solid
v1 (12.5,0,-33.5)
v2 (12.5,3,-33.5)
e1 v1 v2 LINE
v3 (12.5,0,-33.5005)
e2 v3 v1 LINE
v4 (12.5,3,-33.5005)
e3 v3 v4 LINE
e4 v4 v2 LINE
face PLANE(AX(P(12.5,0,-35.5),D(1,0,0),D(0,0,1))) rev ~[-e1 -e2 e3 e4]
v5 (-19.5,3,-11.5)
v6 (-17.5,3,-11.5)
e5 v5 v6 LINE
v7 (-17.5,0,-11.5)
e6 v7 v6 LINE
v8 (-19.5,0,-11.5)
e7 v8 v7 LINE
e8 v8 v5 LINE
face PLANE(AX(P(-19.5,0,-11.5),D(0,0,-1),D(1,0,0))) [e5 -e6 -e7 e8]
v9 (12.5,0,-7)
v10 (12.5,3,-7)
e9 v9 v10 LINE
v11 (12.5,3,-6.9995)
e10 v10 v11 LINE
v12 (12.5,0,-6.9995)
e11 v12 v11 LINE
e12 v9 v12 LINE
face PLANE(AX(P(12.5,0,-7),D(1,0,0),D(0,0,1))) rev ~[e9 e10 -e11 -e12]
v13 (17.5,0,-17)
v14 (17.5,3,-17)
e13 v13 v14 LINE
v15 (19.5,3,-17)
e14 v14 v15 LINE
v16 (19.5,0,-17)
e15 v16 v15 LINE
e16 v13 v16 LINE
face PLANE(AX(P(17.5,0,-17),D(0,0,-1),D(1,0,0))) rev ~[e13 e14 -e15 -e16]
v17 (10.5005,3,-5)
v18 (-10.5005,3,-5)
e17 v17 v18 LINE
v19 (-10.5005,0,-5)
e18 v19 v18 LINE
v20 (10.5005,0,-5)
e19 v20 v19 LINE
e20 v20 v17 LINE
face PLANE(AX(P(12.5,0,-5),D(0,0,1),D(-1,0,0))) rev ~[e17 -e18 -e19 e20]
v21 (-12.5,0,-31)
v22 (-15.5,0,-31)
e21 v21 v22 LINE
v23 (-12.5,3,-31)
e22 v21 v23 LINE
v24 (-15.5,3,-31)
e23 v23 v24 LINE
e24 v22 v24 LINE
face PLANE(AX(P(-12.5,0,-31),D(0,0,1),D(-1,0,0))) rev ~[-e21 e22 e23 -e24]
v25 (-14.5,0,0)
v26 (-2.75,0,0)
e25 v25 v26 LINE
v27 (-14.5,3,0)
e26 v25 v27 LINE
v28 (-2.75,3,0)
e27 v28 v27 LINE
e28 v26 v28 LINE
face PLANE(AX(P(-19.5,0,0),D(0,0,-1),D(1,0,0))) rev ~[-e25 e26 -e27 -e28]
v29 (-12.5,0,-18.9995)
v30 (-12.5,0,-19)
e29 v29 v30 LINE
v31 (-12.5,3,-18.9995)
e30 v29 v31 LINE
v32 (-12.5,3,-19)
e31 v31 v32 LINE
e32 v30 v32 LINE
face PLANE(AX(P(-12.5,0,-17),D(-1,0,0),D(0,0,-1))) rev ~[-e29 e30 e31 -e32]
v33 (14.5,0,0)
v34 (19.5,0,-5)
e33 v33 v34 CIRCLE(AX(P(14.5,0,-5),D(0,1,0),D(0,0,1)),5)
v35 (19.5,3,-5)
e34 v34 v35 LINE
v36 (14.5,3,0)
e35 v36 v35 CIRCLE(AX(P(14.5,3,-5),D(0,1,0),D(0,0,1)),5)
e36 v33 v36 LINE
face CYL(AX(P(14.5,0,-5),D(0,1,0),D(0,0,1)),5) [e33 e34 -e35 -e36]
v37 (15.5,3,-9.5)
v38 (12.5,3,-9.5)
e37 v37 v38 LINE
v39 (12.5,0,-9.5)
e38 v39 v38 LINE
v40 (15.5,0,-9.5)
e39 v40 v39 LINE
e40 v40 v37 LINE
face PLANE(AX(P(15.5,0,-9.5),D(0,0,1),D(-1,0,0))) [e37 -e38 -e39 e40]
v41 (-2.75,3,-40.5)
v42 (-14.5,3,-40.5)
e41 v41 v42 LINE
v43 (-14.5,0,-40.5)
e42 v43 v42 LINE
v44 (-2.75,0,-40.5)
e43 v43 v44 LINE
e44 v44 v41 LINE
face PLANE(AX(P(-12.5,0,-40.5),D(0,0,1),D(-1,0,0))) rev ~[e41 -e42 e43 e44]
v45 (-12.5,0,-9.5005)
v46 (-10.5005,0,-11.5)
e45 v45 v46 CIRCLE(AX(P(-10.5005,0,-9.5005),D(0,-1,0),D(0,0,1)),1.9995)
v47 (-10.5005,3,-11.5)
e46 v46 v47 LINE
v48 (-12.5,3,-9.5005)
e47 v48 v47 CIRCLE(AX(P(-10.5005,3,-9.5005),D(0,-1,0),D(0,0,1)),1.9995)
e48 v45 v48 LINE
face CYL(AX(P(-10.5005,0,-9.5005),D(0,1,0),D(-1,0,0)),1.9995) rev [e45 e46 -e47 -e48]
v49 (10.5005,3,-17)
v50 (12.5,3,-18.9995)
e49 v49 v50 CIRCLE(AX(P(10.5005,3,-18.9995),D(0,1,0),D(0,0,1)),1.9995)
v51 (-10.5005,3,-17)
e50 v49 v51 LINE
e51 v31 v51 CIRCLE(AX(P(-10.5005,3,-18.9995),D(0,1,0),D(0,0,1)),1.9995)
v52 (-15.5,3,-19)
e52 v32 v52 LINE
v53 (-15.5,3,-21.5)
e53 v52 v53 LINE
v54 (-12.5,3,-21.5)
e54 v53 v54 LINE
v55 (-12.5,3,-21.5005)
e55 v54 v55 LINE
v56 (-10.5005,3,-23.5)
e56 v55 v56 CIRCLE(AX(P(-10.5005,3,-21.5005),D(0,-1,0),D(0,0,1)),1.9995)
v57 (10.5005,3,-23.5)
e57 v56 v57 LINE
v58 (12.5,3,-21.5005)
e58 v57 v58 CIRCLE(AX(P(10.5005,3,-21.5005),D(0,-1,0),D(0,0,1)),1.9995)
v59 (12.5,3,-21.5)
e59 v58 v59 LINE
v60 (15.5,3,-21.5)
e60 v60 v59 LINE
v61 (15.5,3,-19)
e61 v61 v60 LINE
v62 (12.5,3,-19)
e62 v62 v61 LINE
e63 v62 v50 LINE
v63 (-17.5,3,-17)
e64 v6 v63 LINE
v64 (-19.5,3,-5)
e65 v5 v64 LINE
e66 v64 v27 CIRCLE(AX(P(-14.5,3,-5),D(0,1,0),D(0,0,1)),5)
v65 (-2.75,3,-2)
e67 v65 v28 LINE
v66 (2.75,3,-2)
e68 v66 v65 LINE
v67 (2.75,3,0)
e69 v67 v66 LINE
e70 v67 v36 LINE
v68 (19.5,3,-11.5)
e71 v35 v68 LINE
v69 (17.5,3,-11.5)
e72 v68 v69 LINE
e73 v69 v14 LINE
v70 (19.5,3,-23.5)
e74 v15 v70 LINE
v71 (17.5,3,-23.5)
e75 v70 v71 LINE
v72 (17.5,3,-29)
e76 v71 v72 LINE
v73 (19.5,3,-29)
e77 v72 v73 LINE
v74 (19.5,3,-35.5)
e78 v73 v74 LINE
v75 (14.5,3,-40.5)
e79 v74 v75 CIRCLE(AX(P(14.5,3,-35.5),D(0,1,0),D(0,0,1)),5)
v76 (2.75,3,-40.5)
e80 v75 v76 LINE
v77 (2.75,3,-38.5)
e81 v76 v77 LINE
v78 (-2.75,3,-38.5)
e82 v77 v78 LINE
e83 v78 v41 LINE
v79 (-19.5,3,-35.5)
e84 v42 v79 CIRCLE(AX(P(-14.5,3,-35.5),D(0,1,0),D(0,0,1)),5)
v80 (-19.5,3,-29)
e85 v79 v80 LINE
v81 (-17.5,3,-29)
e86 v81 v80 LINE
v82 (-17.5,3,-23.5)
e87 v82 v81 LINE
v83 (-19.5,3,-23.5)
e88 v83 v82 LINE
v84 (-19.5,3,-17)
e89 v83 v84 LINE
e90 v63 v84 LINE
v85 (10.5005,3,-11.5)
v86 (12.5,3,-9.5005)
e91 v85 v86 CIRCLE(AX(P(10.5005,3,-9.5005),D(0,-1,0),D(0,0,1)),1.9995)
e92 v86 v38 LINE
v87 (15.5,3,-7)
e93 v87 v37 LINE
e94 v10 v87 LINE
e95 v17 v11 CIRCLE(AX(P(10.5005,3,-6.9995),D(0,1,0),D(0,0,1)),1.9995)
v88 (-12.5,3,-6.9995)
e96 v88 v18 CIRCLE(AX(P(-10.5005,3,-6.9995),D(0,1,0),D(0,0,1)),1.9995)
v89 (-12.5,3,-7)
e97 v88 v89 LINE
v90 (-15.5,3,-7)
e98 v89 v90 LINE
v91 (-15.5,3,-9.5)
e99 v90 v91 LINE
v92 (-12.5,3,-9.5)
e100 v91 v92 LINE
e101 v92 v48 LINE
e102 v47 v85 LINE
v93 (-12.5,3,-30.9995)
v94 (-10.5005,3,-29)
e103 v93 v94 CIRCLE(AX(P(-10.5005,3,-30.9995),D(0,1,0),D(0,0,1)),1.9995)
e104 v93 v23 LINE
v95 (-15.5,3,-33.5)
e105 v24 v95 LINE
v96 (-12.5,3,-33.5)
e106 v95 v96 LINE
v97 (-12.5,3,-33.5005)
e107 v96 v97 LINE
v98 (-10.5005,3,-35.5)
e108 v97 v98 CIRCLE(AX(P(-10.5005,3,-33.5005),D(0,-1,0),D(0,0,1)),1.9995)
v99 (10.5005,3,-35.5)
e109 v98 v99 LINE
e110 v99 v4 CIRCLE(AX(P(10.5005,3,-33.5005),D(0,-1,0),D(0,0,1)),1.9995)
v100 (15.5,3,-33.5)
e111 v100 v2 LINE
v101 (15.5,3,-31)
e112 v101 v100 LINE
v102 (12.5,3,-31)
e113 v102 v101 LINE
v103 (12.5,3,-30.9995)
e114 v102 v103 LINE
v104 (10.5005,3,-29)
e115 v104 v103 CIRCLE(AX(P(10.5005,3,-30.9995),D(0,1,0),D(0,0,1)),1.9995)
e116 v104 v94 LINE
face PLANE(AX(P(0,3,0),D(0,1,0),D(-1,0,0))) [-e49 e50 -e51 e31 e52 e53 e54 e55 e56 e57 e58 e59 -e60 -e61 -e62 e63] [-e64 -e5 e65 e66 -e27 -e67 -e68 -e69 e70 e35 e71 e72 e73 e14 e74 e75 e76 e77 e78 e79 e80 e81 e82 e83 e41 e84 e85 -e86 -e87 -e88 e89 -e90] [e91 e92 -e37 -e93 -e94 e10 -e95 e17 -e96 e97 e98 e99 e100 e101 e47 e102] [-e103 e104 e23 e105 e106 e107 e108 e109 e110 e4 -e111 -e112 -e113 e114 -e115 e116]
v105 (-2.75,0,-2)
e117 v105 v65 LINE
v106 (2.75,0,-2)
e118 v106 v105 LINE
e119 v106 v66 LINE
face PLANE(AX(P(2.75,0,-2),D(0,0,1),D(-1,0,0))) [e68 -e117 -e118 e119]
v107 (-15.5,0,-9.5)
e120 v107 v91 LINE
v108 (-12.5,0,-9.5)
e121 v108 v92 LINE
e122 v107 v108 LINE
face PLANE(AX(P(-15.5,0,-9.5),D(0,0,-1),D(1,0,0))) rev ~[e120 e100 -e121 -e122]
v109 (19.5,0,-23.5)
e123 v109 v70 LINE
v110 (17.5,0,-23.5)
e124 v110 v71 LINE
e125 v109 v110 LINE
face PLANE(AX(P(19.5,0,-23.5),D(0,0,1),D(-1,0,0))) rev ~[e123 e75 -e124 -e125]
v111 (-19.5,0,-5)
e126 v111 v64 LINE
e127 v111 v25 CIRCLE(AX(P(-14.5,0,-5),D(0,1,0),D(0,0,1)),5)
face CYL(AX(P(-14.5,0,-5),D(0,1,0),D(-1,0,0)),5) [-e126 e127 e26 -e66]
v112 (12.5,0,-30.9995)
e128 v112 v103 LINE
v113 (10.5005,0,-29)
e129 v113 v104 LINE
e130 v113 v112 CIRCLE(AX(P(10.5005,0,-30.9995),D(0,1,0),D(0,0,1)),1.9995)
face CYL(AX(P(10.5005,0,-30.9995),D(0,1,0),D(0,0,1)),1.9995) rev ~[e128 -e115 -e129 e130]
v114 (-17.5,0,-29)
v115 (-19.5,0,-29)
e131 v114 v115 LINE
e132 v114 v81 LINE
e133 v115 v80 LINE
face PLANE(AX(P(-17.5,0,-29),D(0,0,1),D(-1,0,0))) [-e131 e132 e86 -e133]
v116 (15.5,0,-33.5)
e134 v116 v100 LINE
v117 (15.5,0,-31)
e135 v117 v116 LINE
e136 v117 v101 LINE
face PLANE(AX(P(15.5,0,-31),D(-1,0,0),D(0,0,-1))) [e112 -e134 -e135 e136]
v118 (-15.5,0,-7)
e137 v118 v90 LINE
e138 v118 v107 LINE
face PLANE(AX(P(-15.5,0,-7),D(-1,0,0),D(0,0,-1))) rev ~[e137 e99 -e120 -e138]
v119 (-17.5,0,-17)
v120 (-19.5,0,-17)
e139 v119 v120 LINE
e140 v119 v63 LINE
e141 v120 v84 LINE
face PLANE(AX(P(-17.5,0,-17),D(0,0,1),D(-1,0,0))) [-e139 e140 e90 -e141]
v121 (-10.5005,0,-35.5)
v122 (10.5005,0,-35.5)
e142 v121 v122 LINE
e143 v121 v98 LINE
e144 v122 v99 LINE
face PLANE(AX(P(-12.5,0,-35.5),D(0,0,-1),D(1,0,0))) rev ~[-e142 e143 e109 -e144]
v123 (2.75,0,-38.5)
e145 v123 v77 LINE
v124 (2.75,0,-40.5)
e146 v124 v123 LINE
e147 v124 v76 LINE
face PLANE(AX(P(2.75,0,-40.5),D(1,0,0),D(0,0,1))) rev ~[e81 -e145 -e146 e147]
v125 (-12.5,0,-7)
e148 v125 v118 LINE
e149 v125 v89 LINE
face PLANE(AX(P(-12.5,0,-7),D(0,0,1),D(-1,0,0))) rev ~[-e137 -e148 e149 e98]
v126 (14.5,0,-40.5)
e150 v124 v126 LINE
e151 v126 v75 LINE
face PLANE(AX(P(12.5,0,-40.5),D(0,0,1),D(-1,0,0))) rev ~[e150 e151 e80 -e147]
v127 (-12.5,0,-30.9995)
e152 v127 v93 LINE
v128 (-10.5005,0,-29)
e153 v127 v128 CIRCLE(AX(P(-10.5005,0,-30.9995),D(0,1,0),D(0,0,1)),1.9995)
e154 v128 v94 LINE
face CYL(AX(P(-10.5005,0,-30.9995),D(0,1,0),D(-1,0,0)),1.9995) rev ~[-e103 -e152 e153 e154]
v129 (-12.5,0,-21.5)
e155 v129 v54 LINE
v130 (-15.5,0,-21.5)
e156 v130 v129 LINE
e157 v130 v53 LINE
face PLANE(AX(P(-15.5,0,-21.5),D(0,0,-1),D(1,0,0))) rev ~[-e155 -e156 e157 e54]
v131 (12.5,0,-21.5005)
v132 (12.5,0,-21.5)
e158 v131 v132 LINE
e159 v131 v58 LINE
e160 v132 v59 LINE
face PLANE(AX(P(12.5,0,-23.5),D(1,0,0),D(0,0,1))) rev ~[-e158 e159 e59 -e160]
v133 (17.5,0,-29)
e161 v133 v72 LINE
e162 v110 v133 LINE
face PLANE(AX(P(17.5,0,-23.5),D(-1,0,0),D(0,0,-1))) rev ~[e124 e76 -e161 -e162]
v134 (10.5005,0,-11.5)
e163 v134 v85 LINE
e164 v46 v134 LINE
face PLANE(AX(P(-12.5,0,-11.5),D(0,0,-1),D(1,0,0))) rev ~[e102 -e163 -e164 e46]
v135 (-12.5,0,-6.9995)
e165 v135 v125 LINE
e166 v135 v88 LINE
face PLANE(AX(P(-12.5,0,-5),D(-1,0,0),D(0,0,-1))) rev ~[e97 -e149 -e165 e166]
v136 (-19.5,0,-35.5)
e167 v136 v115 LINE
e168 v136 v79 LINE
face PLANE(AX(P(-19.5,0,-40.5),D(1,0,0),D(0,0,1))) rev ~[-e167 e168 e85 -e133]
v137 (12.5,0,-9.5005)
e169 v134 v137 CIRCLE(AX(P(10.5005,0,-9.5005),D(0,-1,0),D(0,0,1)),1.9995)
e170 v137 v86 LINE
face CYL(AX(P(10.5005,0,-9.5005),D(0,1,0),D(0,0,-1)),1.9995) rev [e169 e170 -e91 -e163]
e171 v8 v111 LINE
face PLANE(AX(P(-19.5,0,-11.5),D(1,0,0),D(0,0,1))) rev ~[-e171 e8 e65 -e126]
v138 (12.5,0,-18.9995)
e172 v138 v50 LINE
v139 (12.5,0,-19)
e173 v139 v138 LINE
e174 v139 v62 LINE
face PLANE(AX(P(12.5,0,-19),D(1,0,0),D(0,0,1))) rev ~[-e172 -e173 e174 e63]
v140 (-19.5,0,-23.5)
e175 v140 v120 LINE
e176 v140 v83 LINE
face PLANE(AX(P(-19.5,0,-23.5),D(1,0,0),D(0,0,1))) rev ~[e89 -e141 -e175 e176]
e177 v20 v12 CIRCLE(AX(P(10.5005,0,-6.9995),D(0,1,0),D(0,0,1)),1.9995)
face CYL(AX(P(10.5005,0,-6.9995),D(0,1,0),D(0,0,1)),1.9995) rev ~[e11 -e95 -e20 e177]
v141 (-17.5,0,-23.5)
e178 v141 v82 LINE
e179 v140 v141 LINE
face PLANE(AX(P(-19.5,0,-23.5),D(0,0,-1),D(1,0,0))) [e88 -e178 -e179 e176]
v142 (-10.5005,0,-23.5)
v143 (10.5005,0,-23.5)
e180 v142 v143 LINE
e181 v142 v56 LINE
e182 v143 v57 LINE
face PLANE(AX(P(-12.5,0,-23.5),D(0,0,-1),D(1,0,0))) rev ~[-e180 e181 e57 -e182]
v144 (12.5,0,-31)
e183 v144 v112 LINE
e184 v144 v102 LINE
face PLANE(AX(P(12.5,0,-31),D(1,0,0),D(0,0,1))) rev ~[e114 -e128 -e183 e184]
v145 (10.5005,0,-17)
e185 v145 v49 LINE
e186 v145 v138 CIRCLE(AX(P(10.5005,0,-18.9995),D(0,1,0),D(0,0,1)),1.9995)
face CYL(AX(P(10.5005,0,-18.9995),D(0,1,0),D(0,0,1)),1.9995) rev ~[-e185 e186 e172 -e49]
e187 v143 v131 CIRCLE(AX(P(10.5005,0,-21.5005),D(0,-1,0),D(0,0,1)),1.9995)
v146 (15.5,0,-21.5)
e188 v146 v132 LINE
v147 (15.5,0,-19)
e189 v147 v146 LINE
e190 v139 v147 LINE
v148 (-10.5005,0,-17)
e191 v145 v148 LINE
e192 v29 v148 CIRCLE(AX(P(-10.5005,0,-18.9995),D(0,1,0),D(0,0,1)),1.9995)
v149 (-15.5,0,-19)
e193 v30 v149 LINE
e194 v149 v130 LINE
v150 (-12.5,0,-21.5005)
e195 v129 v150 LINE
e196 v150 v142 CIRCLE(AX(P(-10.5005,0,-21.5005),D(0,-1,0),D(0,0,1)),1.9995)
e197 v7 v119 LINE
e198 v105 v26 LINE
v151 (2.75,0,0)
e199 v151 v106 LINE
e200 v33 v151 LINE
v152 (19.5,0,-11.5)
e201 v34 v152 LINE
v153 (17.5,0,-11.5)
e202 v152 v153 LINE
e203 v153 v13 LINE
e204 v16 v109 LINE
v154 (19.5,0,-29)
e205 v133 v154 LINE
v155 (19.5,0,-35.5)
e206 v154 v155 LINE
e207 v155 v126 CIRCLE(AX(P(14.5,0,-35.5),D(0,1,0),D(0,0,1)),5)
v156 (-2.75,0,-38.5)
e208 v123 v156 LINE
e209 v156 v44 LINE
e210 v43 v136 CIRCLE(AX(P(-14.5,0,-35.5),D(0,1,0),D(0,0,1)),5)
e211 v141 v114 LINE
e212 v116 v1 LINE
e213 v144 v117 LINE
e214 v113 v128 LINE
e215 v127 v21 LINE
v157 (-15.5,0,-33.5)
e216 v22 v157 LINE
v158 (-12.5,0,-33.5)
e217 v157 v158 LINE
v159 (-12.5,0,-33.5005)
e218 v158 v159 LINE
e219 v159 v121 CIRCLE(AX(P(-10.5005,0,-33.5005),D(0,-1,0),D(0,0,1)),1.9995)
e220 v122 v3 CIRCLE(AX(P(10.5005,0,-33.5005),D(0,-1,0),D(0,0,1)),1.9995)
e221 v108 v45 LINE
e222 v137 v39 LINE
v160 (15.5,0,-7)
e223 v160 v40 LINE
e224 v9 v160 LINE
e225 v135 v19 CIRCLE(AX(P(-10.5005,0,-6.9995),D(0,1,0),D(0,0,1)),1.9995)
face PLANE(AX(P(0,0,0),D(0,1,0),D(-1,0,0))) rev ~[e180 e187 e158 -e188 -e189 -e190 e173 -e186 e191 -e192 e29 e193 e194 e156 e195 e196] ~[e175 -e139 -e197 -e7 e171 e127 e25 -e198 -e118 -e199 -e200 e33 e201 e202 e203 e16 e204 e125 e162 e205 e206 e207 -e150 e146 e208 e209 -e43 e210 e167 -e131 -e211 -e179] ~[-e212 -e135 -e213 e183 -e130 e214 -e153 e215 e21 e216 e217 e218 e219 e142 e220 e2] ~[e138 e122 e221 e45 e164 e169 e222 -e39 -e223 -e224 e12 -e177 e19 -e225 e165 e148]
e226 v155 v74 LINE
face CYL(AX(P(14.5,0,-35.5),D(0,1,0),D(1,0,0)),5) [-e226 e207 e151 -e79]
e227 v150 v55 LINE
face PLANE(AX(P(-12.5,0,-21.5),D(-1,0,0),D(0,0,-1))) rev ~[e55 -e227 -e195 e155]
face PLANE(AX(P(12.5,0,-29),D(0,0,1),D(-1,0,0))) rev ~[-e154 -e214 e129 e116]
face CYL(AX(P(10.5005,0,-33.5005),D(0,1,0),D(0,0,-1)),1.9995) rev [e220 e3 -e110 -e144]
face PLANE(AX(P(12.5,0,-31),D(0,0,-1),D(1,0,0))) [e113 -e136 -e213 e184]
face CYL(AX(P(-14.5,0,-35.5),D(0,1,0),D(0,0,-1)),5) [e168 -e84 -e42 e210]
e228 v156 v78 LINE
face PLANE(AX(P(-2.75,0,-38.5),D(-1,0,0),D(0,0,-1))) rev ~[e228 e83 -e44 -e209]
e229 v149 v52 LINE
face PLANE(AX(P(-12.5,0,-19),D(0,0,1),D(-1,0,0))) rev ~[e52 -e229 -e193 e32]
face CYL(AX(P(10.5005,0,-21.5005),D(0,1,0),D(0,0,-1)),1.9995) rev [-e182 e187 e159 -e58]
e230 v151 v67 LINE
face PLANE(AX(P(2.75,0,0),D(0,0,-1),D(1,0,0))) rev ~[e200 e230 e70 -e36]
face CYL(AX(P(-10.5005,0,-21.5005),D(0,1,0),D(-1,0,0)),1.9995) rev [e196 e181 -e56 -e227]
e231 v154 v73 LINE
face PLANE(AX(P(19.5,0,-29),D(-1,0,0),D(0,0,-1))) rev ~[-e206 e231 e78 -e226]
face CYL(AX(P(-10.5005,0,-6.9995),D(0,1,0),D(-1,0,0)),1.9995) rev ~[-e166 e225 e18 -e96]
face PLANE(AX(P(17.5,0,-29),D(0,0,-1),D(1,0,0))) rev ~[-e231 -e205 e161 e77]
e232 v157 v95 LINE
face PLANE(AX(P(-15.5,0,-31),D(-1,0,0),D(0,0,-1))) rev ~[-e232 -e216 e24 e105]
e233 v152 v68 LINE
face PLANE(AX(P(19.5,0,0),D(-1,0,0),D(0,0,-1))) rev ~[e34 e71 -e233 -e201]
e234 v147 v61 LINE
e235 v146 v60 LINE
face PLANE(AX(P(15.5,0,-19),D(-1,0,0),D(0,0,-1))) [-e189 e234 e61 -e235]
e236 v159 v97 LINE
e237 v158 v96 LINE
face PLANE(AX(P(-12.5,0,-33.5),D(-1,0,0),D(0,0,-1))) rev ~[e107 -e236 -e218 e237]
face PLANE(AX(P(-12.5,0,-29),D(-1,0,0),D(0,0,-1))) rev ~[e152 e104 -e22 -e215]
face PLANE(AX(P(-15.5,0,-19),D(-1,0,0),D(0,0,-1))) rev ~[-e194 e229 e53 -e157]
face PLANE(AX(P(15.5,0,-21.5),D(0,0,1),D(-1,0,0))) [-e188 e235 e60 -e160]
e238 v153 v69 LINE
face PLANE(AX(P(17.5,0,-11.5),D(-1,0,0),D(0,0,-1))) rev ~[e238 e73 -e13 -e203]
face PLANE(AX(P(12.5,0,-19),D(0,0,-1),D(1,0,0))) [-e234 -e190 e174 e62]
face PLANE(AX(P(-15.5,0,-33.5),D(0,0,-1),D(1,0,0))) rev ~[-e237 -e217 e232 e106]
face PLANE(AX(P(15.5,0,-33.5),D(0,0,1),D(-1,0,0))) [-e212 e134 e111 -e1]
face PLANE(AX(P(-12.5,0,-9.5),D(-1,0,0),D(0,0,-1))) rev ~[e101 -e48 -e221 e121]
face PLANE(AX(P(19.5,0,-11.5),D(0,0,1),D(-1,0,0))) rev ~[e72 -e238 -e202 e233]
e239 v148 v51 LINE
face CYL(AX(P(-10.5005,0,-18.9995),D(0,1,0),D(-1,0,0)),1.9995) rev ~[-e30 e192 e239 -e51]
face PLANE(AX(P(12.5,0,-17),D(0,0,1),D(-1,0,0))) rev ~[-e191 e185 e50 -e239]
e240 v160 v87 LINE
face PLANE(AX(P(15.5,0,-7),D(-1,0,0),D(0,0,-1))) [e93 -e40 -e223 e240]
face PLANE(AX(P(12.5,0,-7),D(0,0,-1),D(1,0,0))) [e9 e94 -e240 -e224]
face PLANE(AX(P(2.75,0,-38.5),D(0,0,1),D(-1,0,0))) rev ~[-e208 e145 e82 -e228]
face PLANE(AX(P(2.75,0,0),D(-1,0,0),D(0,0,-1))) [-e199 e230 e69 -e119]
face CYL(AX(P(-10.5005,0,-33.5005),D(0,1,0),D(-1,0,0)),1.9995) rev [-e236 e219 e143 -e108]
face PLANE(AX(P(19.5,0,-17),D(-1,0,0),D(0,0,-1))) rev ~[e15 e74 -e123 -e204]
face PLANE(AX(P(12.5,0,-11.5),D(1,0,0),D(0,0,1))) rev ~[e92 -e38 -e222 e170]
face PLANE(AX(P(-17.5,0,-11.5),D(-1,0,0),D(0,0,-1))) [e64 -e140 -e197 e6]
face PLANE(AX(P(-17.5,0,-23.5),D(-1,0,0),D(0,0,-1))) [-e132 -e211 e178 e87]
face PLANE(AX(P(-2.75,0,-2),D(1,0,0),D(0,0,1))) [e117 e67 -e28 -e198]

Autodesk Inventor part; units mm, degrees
ref_plane "YZ Plane" through (0, 0, 0) normal (1, 0, 0) x (0, 1, 0)
ref_plane "XZ Plane" through (0, 0, 0) normal (0, 1, 0) x (-1, 0, 0)
ref_plane "XY Plane" through (0, 0, 0) normal (0, 0, 1) x (1, 0, 0)
sketch "Эскиз1" plane through (0, 0, 0) normal (0, 1, 0) x (-1, 0, 0)
  line L0 (19.5, 0) -> (12.5, 0)
  line L1 (12.5, 0) -> (12.5, -40.5)
  line L2 (12.5, -40.5) -> (19.5, -40.5)
  line L3 (19.5, -40.5) -> (19.5, 0)
  line L4 (-12.5, 0) -> (-19.5, 0)
  line L5 (-19.5, 0) -> (-19.5, -40.5)
  line L6 (-19.5, -40.5) -> (-12.5, -40.5)
  line L7 (-12.5, -40.5) -> (-12.5, 0)
  line L8 (0, 0) -> (0, -102.7933) construction
  line L9 (12.5, -7) -> (15.5, -7)
  line L10 (15.5, -7) -> (15.5, -9.5)
  line L11 (15.5, -9.5) -> (12.5, -9.5)
  line L12 (12.5, -9.5) -> (12.5, -7)
  line L13 (-12.5, -7) -> (-15.5, -7)
  line L14 (-15.5, -7) -> (-15.5, -9.5)
  line L15 (-15.5, -9.5) -> (-12.5, -9.5)
  line L16 (-12.5, -9.5) -> (-12.5, -7)
  line L17 (15.5, -21.5) -> (12.5, -21.5)
  line L18 (12.5, -19) -> (15.5, -19)
  line L19 (15.5, -19) -> (15.5, -21.5)
  line L20 (12.5, -21.5) -> (12.5, -19)
  line L21 (-15.5, -21.5) -> (-12.5, -21.5)
  line L22 (-15.5, -19) -> (-15.5, -21.5)
  line L23 (-12.5, -19) -> (-15.5, -19)
  line L24 (-12.5, -21.5) -> (-12.5, -19)
  line L25 (15.5, -33.5) -> (12.5, -33.5)
  line L26 (12.5, -31) -> (15.5, -31)
  line L27 (15.5, -31) -> (15.5, -33.5)
  line L28 (12.5, -33.5) -> (12.5, -31)
  line L29 (-15.5, -33.5) -> (-12.5, -33.5)
  line L30 (-15.5, -31) -> (-15.5, -33.5)
  line L31 (-12.5, -31) -> (-15.5, -31)
  line L32 (-12.5, -33.5) -> (-12.5, -31)
  line L33 (19.5, 0) -> (-19.5, 0)
  line L34 (-12.5, -5) -> (12.5, -5)
  line L35 (-19.5, -40.5) -> (19.5, -40.5)
  line L36 (12.5, -35.5) -> (-12.5, -35.5)
  line L37 (12.5, -11.5) -> (-12.5, -11.5)
  line L38 (-12.5, -11.5) -> (-12.5, -17)
  line L39 (-12.5, -17) -> (12.5, -17)
  line L40 (12.5, -17) -> (12.5, -11.5)
  line L41 (12.5, -23.5) -> (-12.5, -23.5)
  line L42 (-12.5, -23.5) -> (-12.5, -29)
  line L43 (-12.5, -29) -> (12.5, -29)
  line L44 (12.5, -29) -> (12.5, -23.5)
  line L45 (19.5, -11.5) -> (17.5, -11.5)
  line L46 (17.5, -11.5) -> (17.5, -17)
  line L47 (17.5, -17) -> (19.5, -17)
  line L48 (19.5, -17) -> (19.5, -11.5)
  line L49 (19.5, -23.5) -> (17.5, -23.5)
  line L50 (17.5, -23.5) -> (17.5, -29)
  line L51 (17.5, -29) -> (19.5, -29)
  line L52 (19.5, -29) -> (19.5, -23.5)
  line L53 (-19.5, -11.5) -> (-17.5, -11.5)
  line L54 (-17.5, -11.5) -> (-17.5, -17)
  line L55 (-17.5, -17) -> (-19.5, -17)
  line L56 (-19.5, -17) -> (-19.5, -11.5)
  line L57 (-19.5, -23.5) -> (-17.5, -23.5)
  line L58 (-17.5, -23.5) -> (-17.5, -29)
  line L59 (-17.5, -29) -> (-19.5, -29)
  line L60 (-19.5, -29) -> (-19.5, -23.5)
  line L61 (2.75, 0) -> (-2.75, 0)
  line L62 (-2.75, 0) -> (-2.75, -2)
  line L63 (-2.75, -2) -> (2.75, -2)
  line L64 (2.75, -2) -> (2.75, 0)
  line L65 (2.75, -40.5) -> (-2.75, -40.5)
  line L66 (-2.75, -40.5) -> (-2.75, -38.5)
  line L67 (-2.75, -38.5) -> (2.75, -38.5)
  line L68 (2.75, -38.5) -> (2.75, -40.5)
  point P0 (-12.5, -40.5)
  point P1 (-12.5, -33.5)
  point P2 (-12.5, -31)
  point P3 (-12.5, -21.5)
  point P4 (-12.5, -19)
  point P5 (-12.5, -9.5)
  point P6 (12.5, -9.5)
  point P7 (12.5, -19)
  point P8 (12.5, -21.5)
  point P9 (12.5, -31)
  point P10 (12.5, -33.5)
  point P11 (12.5, -29)
  point P12 (12.5, -17)
  point P13 (-12.5, -11.5)
  point P14 (18.5, -17)
  point P15 (18.5, -11.5)
  point P16 (-18.5, -11.5)
  point P17 (-18.5, -17)
  point P18 (-18.5, -23.5)
  point P19 (18.5, -23.5)
  point P20 (-19.5, -17)
  point P21 (-19.5, -29)
  point P22 (19.5, -17)
  dimension "d0" = 2.5
  dimension "d1" = 3
  dimension "d4" = 12
  dimension "d9" = 31
  dimension "d10" = 4
  dimension "d11" = 5
  dimension "d12" = 5
  dimension "d14" = 2
  dimension "d17" = 2
  dimension "d18" = 2
  dimension "d19" = 2
  dimension "d20" = 2
  dimension "d21" = 2
  dimension "d24" = 2
  dimension "d25" = 2
  dimension "d26" = 5.5
extrude "Выдавливание1" add sketch "Эскиз1" along normal blind 3 contours L3 L45 L46 L47 L49 L50 L51 L2 L1 L25 L27 L26 L17 L19 L18 L11 L10 L9 L0 | L1 L34 L7 L33 L62 L63 L64 | L7 L13 L14 L15 L23 L22 L21 L31 L30 L29 L6 L5 L59 L58 L57 L55 L54 L53 L4 | L1 L39 L7 L37 | L35 L68 L67 L66 L7 L36 L1 | L1 L43 L7 L41
fillet "Сопряжение1" radius 2 12 edges at (12.5, 1.5, -5) (-12.5, 1.5, -5) (-12.5, 1.5, -11.5) (12.5, 1.5, -11.5) (12.5, 1.5, -23.5) (12.5, 1.5, -35.5) (12.5, 1.5, -17) (12.5, 1.5, -29) (-12.5, 1.5, -17) (-12.5, 1.5, -23.5) (-12.5, 1.5, -35.5) (-12.5, 1.5, -29)
fillet "Сопряжение2" radius 5 4 edges at (-19.5, 1.5, 0) (19.5, 1.5, 0) (19.5, 1.5, -40.5) (-19.5, 1.5, -40.5)
equation "\"d12\" = d11"
properties part number "Крепление РБАСУ" material "Пластик АБС"
